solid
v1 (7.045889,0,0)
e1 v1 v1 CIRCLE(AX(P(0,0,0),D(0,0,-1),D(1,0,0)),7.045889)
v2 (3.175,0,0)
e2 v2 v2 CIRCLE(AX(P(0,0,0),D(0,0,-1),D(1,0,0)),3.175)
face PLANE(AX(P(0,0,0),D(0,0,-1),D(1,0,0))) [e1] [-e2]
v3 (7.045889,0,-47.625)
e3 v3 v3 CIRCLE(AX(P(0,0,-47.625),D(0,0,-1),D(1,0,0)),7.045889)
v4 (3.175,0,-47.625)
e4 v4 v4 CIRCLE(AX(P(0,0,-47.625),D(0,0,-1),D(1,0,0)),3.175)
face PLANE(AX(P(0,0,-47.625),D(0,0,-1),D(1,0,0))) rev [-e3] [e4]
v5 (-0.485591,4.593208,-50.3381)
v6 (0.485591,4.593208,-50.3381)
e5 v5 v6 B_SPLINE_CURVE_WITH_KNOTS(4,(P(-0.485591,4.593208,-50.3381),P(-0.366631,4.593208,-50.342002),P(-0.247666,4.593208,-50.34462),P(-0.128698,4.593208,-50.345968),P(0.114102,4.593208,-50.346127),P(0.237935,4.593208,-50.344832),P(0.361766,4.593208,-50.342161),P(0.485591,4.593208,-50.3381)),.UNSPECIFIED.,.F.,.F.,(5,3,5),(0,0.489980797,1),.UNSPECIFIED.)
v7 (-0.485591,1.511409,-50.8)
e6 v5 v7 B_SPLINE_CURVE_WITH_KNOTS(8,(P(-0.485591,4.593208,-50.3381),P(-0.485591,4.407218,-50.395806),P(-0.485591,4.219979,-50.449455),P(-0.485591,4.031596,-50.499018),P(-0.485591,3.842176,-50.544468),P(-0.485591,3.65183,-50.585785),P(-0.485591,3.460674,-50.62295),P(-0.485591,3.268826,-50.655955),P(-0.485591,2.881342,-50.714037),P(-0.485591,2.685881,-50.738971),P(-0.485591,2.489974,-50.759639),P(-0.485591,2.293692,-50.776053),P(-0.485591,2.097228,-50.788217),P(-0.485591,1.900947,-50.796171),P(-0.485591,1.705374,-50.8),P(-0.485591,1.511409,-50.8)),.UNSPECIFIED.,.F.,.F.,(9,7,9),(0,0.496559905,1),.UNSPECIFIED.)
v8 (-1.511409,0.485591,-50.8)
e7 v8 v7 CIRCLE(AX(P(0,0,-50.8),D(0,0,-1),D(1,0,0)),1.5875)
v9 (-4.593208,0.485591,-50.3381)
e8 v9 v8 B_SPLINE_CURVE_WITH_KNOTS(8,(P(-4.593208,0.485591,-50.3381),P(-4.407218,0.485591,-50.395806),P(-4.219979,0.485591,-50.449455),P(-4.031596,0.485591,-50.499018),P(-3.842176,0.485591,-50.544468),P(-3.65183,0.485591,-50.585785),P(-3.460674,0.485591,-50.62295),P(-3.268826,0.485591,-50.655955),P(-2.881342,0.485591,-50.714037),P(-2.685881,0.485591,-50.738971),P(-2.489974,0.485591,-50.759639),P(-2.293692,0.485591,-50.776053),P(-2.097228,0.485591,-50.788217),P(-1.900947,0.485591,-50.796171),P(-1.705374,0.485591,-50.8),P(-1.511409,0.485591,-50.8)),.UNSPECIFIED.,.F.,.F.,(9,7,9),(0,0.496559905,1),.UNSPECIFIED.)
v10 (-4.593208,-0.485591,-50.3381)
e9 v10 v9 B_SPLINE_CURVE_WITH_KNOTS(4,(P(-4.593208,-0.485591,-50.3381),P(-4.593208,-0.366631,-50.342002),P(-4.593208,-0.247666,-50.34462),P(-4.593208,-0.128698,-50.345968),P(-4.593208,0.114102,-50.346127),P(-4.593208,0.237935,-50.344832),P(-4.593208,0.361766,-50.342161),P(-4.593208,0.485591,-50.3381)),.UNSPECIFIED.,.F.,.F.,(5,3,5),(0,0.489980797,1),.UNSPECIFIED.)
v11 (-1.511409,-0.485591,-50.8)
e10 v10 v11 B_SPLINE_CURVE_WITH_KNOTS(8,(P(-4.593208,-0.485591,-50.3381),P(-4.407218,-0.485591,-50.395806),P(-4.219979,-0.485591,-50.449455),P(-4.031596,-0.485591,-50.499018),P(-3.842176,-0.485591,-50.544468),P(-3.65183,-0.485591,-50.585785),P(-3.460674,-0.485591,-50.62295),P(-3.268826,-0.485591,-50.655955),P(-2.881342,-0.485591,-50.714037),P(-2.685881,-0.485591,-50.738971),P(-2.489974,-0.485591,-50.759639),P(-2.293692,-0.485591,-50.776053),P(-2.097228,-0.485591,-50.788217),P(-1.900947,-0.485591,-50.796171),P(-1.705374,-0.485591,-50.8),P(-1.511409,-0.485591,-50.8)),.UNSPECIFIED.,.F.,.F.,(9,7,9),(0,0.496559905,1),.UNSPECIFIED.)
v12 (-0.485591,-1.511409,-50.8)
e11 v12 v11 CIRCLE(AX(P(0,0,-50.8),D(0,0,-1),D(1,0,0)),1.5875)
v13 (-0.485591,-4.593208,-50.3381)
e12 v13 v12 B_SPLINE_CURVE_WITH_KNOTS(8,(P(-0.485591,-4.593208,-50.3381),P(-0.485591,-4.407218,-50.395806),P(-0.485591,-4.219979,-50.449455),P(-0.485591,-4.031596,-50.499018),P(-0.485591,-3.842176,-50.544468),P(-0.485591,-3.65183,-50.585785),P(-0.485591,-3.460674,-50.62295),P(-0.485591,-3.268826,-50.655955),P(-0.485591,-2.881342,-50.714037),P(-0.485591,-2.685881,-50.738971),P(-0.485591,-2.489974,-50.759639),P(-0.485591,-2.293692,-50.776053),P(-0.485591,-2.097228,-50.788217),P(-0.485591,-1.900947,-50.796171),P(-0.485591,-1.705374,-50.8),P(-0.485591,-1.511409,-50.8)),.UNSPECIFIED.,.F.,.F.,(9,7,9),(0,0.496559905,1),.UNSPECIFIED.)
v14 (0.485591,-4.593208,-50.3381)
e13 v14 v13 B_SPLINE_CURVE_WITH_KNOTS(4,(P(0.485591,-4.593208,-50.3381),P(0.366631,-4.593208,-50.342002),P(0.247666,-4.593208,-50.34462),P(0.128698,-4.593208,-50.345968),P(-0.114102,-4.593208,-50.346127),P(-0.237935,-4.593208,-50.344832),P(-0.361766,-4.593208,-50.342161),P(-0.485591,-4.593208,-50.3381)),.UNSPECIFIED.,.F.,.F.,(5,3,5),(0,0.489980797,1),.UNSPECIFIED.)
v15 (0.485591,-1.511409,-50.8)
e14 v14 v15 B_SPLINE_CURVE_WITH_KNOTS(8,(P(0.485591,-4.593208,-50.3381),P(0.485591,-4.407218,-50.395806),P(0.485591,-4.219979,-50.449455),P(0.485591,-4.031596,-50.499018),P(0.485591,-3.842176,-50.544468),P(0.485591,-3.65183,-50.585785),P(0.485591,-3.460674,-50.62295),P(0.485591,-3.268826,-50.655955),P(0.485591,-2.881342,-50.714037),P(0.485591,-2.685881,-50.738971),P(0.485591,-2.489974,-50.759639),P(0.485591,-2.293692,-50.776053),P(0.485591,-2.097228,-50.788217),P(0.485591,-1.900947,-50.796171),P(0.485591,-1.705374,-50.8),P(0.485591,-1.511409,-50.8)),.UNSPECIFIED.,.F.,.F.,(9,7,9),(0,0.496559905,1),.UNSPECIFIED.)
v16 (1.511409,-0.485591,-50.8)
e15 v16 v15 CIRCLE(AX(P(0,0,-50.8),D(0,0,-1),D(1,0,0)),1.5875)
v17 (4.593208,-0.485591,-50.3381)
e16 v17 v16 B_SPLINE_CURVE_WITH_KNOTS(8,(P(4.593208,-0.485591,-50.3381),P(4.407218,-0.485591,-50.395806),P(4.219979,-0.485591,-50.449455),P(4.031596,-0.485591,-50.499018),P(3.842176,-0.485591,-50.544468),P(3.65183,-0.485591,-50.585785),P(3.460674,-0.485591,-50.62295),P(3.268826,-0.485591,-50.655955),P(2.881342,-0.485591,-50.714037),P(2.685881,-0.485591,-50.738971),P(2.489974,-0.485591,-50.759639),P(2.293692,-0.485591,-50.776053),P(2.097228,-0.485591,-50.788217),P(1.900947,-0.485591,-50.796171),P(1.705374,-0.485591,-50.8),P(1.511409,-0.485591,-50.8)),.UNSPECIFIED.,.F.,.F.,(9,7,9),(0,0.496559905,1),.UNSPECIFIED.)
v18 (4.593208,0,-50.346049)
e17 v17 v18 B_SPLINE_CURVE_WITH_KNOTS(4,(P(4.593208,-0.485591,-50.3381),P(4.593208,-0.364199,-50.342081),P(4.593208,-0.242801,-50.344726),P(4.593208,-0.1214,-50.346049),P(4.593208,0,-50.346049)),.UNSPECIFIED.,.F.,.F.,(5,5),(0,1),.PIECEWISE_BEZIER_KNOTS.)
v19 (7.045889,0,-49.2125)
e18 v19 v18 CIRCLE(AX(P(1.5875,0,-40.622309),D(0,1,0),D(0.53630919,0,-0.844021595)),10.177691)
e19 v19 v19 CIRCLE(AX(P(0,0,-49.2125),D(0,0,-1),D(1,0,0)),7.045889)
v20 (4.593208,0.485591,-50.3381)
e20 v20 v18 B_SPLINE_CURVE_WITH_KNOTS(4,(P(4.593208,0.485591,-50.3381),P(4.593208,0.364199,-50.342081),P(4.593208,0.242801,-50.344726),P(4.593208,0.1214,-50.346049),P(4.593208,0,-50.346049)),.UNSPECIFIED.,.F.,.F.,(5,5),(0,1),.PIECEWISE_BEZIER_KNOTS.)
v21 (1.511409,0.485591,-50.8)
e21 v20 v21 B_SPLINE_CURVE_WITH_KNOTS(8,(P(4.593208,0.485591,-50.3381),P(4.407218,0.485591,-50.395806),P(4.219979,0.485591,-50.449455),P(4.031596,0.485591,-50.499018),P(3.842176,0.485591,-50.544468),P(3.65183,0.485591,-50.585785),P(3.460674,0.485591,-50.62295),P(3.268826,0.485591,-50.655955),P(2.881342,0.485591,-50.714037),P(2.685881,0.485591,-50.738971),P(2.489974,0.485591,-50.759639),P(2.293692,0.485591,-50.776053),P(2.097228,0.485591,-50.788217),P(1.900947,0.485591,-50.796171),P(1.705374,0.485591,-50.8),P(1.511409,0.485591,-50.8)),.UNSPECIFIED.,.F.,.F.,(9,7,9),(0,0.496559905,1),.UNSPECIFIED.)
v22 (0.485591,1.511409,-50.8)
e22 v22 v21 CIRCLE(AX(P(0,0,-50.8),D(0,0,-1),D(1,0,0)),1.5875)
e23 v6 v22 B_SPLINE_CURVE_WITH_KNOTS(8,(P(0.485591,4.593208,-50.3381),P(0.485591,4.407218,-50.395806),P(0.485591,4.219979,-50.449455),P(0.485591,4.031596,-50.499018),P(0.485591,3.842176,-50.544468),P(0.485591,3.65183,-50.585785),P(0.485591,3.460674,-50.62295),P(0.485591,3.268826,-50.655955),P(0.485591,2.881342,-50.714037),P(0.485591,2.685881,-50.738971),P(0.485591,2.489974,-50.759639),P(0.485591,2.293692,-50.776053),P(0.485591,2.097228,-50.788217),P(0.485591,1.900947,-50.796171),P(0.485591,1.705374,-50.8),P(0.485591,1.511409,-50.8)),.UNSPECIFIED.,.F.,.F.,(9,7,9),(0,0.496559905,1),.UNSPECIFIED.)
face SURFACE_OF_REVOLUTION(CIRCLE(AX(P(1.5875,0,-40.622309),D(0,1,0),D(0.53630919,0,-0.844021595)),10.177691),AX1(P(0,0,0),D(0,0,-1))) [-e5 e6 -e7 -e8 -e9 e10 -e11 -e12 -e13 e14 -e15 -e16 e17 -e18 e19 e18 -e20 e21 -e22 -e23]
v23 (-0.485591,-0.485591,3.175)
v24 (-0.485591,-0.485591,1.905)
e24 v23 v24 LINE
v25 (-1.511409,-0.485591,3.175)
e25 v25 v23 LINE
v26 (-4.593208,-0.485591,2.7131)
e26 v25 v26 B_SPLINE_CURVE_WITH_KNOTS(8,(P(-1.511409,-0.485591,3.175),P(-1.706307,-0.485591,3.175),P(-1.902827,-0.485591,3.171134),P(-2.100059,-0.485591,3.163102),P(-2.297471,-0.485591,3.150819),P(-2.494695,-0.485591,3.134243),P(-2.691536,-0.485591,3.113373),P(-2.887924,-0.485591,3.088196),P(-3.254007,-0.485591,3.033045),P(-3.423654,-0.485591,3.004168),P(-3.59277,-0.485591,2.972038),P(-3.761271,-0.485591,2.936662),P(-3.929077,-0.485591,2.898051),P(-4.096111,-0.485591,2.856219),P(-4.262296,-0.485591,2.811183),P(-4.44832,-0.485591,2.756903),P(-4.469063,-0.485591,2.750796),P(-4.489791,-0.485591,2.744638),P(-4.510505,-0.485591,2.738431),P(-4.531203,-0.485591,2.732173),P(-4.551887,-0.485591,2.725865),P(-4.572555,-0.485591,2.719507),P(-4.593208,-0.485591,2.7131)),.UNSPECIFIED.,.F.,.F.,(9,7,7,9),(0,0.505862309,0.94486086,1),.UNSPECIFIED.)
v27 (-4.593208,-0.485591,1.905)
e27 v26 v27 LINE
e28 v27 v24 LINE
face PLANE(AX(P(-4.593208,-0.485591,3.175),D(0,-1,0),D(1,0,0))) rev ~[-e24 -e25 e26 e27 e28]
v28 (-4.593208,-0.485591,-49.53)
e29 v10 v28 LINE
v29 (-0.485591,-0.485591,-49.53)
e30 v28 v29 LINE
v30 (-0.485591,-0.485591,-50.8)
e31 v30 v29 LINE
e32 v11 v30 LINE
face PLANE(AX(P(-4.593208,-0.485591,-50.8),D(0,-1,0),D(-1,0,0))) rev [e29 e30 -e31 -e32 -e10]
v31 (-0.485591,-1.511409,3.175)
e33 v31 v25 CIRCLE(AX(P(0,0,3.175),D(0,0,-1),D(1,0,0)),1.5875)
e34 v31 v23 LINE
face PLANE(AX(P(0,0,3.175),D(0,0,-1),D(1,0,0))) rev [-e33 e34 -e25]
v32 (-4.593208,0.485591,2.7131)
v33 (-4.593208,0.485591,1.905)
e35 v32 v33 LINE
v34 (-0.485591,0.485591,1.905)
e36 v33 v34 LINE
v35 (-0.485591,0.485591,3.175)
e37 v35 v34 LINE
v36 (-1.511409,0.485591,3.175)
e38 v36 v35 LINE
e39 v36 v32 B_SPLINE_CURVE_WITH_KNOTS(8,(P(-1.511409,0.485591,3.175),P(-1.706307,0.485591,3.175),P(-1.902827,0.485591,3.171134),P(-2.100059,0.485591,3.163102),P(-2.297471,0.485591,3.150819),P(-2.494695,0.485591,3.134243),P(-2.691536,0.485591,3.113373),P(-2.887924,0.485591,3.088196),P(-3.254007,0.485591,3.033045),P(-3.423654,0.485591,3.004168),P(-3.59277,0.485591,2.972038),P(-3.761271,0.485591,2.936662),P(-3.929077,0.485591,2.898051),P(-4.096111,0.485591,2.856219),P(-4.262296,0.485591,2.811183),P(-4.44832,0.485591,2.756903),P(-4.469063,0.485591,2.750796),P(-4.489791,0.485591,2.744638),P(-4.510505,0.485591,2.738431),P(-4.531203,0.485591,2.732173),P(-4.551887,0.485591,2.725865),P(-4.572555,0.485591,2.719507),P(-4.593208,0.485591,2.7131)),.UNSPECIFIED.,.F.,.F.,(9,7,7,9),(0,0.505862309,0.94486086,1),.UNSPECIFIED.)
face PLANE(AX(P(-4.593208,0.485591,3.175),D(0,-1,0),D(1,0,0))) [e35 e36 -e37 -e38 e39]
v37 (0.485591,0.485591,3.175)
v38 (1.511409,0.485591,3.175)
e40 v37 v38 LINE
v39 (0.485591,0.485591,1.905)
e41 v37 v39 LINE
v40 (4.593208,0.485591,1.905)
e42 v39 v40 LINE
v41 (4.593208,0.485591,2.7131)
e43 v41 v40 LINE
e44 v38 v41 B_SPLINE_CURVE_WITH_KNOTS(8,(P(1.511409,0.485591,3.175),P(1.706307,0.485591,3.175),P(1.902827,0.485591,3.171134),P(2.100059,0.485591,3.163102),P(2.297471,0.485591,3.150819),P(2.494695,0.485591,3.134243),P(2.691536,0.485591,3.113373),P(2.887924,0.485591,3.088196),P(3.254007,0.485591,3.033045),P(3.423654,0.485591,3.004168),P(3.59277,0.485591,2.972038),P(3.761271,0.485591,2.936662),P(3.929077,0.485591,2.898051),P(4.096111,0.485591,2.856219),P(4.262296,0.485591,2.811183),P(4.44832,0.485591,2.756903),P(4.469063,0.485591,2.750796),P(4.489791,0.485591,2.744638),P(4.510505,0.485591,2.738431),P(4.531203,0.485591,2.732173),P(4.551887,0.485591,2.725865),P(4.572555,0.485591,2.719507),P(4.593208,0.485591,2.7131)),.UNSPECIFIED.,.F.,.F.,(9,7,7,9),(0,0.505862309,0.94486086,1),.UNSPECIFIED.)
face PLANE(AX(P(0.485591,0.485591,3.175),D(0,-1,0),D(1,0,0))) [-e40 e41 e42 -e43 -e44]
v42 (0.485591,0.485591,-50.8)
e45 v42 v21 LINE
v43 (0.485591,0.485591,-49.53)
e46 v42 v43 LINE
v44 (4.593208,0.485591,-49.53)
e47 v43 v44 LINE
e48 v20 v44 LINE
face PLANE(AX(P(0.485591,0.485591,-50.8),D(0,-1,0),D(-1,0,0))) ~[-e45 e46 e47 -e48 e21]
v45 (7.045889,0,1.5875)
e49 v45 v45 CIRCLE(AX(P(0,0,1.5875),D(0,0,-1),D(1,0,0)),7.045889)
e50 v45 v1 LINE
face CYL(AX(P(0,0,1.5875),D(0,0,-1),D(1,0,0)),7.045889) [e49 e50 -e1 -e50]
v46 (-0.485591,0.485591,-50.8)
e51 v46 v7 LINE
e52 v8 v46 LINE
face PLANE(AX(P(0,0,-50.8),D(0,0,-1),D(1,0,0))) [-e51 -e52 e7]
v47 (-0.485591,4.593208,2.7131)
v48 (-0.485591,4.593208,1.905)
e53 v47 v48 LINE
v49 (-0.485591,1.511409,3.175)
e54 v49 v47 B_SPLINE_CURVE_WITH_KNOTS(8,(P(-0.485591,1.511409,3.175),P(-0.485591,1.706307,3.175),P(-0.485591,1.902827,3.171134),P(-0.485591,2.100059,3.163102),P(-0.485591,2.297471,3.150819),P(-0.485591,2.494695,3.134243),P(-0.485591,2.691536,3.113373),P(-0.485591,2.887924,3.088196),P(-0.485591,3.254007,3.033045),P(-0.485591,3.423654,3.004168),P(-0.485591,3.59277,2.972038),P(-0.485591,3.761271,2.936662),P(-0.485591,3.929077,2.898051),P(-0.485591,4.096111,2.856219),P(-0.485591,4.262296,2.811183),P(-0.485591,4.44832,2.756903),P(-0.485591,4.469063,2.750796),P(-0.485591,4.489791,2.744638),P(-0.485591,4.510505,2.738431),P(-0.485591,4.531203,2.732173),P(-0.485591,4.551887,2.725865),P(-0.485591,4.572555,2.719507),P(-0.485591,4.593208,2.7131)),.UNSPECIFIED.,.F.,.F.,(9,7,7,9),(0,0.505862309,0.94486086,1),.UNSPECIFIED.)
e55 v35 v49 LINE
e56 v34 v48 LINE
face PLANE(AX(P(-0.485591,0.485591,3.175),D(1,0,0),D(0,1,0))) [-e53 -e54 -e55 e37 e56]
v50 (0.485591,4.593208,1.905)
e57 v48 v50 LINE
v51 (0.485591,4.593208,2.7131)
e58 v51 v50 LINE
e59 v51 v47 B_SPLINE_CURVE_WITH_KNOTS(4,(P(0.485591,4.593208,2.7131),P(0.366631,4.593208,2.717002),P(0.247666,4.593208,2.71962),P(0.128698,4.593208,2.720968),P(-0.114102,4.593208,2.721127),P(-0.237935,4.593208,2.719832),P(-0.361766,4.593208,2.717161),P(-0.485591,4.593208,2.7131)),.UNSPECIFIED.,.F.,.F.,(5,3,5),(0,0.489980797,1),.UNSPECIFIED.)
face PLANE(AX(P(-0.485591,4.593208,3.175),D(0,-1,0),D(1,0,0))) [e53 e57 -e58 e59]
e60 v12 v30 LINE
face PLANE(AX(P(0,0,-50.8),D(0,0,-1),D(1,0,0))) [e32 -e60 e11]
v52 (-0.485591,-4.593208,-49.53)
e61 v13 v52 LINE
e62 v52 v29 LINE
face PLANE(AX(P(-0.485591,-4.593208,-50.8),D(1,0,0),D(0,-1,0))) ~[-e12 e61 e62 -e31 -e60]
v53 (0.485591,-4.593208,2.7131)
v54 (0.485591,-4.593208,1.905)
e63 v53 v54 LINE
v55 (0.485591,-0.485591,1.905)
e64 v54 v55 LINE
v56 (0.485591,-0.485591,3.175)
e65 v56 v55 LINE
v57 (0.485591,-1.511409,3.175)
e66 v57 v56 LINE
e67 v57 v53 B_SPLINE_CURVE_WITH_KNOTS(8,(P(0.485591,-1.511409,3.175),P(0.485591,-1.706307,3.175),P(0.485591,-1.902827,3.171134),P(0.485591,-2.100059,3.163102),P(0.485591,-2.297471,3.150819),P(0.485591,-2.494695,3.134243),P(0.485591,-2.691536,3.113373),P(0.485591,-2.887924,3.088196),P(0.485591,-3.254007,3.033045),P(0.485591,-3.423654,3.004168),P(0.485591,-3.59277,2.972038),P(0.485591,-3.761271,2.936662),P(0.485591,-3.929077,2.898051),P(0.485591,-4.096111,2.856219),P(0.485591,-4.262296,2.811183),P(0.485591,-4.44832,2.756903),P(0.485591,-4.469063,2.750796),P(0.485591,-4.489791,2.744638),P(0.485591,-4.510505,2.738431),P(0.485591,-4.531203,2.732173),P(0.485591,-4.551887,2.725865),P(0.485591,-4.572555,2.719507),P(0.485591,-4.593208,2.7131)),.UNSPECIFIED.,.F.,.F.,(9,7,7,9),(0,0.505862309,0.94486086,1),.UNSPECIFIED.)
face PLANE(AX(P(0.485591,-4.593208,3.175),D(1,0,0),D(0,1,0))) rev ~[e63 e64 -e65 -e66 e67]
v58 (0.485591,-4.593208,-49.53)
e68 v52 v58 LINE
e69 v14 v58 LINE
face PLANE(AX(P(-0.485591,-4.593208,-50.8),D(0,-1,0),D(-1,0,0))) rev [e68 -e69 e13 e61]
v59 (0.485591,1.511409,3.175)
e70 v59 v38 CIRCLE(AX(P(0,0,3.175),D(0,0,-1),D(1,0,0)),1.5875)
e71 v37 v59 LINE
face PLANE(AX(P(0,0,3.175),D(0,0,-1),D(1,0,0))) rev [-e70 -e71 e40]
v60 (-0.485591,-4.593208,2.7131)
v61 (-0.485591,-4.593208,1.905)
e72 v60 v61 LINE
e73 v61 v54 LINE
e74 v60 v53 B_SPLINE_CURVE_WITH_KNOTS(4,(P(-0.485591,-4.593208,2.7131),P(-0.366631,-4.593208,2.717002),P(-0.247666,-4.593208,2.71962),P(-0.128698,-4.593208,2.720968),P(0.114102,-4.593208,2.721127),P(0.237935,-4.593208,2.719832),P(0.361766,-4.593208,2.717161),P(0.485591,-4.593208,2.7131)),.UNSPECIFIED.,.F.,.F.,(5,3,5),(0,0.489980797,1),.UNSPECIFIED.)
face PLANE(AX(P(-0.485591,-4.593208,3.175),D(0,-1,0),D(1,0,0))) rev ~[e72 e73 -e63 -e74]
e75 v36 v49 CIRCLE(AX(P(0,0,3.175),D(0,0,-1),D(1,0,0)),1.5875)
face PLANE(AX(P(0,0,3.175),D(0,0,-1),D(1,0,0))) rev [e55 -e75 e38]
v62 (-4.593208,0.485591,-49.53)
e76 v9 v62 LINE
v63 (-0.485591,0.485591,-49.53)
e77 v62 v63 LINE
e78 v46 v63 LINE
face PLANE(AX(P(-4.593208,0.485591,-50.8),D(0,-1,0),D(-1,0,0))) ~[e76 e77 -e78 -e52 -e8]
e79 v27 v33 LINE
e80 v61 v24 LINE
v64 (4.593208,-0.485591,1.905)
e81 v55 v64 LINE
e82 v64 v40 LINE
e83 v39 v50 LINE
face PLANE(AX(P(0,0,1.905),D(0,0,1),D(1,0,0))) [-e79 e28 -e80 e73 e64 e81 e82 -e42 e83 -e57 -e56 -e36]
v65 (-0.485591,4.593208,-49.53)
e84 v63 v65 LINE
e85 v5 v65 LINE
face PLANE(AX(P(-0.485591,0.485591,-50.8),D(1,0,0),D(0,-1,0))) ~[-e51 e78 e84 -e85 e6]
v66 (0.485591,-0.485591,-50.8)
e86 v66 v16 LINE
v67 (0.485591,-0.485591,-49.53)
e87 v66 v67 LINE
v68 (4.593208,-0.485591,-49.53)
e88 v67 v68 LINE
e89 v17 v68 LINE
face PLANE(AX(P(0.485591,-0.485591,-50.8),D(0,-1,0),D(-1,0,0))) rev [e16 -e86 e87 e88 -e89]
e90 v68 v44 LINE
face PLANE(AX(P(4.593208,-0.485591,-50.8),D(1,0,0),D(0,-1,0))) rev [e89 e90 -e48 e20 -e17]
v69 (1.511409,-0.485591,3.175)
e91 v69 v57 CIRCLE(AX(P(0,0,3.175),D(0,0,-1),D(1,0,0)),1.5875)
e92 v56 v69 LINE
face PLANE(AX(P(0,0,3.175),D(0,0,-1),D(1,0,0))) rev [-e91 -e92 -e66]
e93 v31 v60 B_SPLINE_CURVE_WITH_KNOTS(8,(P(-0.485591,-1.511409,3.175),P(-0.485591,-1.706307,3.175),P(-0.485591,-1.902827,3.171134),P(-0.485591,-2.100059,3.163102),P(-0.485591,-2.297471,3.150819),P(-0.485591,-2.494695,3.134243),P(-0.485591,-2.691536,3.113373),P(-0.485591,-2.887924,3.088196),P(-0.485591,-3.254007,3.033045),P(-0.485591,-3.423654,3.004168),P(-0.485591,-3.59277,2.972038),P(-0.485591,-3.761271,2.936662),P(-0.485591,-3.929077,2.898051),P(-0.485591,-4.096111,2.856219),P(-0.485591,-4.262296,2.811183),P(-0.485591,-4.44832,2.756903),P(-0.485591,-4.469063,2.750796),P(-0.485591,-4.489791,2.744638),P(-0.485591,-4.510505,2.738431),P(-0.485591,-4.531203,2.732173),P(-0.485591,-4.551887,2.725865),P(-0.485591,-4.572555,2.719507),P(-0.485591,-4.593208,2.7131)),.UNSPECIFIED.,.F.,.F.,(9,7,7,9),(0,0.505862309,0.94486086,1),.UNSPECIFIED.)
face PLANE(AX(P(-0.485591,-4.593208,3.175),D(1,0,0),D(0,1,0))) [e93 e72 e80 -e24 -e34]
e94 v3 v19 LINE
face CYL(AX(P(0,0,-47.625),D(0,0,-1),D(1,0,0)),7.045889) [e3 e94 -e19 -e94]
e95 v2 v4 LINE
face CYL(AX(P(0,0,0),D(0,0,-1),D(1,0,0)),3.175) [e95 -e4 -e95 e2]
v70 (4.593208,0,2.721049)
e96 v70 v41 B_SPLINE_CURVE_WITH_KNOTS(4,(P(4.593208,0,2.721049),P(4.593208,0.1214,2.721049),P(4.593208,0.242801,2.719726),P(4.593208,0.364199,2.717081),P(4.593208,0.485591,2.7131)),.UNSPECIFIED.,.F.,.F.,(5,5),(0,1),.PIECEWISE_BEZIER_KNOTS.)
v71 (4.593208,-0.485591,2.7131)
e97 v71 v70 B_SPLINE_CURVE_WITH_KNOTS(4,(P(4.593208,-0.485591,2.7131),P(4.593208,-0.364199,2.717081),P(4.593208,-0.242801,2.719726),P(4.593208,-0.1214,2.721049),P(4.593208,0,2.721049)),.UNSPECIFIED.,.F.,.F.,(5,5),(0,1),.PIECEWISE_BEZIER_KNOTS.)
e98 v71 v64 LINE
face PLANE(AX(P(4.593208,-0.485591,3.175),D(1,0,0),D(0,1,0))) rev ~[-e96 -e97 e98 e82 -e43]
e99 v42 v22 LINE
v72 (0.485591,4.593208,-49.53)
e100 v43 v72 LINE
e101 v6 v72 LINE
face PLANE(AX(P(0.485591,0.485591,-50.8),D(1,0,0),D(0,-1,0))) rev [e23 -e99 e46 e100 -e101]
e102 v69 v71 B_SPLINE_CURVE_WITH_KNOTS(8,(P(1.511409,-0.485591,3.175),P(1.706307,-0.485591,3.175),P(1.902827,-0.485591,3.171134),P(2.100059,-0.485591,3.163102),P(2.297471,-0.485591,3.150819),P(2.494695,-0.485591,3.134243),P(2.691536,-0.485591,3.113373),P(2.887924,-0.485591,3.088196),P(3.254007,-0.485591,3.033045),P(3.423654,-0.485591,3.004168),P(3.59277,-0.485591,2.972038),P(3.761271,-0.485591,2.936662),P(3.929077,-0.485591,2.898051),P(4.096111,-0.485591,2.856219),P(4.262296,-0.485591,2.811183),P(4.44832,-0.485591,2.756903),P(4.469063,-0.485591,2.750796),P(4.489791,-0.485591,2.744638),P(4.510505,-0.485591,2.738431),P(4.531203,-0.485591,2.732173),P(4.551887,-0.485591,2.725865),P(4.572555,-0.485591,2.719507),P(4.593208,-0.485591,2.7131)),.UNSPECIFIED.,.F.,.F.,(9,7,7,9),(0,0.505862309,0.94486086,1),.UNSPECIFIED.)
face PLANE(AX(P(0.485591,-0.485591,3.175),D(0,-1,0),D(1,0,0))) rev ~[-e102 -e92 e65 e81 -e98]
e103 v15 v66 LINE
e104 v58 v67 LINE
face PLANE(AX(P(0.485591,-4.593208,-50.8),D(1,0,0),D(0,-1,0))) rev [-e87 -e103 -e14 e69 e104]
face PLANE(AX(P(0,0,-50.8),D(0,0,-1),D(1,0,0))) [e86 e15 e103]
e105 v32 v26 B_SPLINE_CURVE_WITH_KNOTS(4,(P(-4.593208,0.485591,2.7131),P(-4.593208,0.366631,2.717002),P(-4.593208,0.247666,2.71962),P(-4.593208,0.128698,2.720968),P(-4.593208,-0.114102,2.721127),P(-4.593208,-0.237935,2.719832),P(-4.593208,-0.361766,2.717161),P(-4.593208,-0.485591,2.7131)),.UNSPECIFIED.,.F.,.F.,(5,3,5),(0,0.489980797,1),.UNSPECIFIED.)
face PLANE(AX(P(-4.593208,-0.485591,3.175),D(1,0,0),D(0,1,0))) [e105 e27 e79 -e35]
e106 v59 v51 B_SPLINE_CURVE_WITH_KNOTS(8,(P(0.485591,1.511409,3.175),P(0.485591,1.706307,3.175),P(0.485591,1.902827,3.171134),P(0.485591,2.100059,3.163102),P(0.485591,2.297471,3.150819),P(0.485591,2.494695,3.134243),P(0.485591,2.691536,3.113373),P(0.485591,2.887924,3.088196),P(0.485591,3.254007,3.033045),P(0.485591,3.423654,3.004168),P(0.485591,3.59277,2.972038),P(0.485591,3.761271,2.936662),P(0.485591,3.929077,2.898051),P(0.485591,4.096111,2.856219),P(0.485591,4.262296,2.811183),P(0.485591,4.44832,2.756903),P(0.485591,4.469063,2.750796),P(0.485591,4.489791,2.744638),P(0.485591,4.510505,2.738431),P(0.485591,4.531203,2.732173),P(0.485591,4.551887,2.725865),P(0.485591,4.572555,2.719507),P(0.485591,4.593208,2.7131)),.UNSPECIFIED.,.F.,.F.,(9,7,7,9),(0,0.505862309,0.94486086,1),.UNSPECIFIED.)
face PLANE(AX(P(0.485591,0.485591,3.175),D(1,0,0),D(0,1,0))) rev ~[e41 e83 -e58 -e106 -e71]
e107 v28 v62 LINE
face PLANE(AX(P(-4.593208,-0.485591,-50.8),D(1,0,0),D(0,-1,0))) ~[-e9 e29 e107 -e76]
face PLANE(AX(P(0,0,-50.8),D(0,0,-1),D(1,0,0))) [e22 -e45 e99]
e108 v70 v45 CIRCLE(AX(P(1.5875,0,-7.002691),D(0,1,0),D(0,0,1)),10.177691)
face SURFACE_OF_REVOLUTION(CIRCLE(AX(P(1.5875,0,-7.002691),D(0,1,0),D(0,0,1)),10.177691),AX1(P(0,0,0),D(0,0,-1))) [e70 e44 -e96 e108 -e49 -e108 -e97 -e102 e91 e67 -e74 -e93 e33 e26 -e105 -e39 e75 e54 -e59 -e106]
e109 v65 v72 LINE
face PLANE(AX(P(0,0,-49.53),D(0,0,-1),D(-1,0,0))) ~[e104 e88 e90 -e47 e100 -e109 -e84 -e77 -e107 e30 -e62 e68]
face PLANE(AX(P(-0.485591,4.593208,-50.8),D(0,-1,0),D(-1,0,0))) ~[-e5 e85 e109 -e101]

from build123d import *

# Parameters (mm, degrees)
SKETCH2_W          = 9.186415934
SKETCH2_H          = 0.97118121
SKETCH2_W_2        = 0.97118121
SKETCH2_H_2        = 9.186415934
CUT_EXTRUDE1_DEPTH = 1.27


with BuildPart() as part:
    # Sketch1 → Revolve1 (revolve)
    with BuildSketch(Plane(origin=(0, 0, 0), x_dir=(1, 0, 0), z_dir=(0, 1, 0))):
        with BuildLine():
            Line((0, 47.625), (0, 0))
            Line((0, 0), (0, -3.175))
            Line((0, -3.175), (1.5875, -3.175))
            ThreePointArc((1.5875, -3.175), (4.429777637, -2.770069708), (7.045889178, -1.5875))
            Line((7.045889178, -1.5875), (7.045889178, 0))
            Line((7.045889178, 0), (3.175, 0))
            Line((3.175, 0), (3.175, 47.625))
            Line((3.175, 47.625), (7.045889178, 47.625))
            Line((7.045889178, 47.625), (7.045889178, 49.2125))
            ThreePointArc((7.045889178, 49.2125), (4.429777637, 50.395069708), (1.5875, 50.8))
            Line((1.5875, 50.8), (0, 50.8))
            Line((0, 50.8), (0, 47.625))
        make_face()
    revolve(axis=Axis((0, 0, 0), (0, 0, -1)))

    # Sketch2 → Cut-Extrude1 (cut)
    with BuildSketch(Plane.XY.offset(3.175)):
        Rectangle(SKETCH2_W, SKETCH2_H)
        Rectangle(SKETCH2_W_2, SKETCH2_H_2)
    cut_extrude1 = extrude(amount=-CUT_EXTRUDE1_DEPTH, mode=Mode.SUBTRACT)

    # Mirror1: Cut-Extrude1 across plane
    add(cut_extrude1.mirror(Plane(origin=(0, 0, -23.8125), x_dir=(1, 0, 0), z_dir=(0, 0, -1))), mode=Mode.SUBTRACT)


solid = part.part
